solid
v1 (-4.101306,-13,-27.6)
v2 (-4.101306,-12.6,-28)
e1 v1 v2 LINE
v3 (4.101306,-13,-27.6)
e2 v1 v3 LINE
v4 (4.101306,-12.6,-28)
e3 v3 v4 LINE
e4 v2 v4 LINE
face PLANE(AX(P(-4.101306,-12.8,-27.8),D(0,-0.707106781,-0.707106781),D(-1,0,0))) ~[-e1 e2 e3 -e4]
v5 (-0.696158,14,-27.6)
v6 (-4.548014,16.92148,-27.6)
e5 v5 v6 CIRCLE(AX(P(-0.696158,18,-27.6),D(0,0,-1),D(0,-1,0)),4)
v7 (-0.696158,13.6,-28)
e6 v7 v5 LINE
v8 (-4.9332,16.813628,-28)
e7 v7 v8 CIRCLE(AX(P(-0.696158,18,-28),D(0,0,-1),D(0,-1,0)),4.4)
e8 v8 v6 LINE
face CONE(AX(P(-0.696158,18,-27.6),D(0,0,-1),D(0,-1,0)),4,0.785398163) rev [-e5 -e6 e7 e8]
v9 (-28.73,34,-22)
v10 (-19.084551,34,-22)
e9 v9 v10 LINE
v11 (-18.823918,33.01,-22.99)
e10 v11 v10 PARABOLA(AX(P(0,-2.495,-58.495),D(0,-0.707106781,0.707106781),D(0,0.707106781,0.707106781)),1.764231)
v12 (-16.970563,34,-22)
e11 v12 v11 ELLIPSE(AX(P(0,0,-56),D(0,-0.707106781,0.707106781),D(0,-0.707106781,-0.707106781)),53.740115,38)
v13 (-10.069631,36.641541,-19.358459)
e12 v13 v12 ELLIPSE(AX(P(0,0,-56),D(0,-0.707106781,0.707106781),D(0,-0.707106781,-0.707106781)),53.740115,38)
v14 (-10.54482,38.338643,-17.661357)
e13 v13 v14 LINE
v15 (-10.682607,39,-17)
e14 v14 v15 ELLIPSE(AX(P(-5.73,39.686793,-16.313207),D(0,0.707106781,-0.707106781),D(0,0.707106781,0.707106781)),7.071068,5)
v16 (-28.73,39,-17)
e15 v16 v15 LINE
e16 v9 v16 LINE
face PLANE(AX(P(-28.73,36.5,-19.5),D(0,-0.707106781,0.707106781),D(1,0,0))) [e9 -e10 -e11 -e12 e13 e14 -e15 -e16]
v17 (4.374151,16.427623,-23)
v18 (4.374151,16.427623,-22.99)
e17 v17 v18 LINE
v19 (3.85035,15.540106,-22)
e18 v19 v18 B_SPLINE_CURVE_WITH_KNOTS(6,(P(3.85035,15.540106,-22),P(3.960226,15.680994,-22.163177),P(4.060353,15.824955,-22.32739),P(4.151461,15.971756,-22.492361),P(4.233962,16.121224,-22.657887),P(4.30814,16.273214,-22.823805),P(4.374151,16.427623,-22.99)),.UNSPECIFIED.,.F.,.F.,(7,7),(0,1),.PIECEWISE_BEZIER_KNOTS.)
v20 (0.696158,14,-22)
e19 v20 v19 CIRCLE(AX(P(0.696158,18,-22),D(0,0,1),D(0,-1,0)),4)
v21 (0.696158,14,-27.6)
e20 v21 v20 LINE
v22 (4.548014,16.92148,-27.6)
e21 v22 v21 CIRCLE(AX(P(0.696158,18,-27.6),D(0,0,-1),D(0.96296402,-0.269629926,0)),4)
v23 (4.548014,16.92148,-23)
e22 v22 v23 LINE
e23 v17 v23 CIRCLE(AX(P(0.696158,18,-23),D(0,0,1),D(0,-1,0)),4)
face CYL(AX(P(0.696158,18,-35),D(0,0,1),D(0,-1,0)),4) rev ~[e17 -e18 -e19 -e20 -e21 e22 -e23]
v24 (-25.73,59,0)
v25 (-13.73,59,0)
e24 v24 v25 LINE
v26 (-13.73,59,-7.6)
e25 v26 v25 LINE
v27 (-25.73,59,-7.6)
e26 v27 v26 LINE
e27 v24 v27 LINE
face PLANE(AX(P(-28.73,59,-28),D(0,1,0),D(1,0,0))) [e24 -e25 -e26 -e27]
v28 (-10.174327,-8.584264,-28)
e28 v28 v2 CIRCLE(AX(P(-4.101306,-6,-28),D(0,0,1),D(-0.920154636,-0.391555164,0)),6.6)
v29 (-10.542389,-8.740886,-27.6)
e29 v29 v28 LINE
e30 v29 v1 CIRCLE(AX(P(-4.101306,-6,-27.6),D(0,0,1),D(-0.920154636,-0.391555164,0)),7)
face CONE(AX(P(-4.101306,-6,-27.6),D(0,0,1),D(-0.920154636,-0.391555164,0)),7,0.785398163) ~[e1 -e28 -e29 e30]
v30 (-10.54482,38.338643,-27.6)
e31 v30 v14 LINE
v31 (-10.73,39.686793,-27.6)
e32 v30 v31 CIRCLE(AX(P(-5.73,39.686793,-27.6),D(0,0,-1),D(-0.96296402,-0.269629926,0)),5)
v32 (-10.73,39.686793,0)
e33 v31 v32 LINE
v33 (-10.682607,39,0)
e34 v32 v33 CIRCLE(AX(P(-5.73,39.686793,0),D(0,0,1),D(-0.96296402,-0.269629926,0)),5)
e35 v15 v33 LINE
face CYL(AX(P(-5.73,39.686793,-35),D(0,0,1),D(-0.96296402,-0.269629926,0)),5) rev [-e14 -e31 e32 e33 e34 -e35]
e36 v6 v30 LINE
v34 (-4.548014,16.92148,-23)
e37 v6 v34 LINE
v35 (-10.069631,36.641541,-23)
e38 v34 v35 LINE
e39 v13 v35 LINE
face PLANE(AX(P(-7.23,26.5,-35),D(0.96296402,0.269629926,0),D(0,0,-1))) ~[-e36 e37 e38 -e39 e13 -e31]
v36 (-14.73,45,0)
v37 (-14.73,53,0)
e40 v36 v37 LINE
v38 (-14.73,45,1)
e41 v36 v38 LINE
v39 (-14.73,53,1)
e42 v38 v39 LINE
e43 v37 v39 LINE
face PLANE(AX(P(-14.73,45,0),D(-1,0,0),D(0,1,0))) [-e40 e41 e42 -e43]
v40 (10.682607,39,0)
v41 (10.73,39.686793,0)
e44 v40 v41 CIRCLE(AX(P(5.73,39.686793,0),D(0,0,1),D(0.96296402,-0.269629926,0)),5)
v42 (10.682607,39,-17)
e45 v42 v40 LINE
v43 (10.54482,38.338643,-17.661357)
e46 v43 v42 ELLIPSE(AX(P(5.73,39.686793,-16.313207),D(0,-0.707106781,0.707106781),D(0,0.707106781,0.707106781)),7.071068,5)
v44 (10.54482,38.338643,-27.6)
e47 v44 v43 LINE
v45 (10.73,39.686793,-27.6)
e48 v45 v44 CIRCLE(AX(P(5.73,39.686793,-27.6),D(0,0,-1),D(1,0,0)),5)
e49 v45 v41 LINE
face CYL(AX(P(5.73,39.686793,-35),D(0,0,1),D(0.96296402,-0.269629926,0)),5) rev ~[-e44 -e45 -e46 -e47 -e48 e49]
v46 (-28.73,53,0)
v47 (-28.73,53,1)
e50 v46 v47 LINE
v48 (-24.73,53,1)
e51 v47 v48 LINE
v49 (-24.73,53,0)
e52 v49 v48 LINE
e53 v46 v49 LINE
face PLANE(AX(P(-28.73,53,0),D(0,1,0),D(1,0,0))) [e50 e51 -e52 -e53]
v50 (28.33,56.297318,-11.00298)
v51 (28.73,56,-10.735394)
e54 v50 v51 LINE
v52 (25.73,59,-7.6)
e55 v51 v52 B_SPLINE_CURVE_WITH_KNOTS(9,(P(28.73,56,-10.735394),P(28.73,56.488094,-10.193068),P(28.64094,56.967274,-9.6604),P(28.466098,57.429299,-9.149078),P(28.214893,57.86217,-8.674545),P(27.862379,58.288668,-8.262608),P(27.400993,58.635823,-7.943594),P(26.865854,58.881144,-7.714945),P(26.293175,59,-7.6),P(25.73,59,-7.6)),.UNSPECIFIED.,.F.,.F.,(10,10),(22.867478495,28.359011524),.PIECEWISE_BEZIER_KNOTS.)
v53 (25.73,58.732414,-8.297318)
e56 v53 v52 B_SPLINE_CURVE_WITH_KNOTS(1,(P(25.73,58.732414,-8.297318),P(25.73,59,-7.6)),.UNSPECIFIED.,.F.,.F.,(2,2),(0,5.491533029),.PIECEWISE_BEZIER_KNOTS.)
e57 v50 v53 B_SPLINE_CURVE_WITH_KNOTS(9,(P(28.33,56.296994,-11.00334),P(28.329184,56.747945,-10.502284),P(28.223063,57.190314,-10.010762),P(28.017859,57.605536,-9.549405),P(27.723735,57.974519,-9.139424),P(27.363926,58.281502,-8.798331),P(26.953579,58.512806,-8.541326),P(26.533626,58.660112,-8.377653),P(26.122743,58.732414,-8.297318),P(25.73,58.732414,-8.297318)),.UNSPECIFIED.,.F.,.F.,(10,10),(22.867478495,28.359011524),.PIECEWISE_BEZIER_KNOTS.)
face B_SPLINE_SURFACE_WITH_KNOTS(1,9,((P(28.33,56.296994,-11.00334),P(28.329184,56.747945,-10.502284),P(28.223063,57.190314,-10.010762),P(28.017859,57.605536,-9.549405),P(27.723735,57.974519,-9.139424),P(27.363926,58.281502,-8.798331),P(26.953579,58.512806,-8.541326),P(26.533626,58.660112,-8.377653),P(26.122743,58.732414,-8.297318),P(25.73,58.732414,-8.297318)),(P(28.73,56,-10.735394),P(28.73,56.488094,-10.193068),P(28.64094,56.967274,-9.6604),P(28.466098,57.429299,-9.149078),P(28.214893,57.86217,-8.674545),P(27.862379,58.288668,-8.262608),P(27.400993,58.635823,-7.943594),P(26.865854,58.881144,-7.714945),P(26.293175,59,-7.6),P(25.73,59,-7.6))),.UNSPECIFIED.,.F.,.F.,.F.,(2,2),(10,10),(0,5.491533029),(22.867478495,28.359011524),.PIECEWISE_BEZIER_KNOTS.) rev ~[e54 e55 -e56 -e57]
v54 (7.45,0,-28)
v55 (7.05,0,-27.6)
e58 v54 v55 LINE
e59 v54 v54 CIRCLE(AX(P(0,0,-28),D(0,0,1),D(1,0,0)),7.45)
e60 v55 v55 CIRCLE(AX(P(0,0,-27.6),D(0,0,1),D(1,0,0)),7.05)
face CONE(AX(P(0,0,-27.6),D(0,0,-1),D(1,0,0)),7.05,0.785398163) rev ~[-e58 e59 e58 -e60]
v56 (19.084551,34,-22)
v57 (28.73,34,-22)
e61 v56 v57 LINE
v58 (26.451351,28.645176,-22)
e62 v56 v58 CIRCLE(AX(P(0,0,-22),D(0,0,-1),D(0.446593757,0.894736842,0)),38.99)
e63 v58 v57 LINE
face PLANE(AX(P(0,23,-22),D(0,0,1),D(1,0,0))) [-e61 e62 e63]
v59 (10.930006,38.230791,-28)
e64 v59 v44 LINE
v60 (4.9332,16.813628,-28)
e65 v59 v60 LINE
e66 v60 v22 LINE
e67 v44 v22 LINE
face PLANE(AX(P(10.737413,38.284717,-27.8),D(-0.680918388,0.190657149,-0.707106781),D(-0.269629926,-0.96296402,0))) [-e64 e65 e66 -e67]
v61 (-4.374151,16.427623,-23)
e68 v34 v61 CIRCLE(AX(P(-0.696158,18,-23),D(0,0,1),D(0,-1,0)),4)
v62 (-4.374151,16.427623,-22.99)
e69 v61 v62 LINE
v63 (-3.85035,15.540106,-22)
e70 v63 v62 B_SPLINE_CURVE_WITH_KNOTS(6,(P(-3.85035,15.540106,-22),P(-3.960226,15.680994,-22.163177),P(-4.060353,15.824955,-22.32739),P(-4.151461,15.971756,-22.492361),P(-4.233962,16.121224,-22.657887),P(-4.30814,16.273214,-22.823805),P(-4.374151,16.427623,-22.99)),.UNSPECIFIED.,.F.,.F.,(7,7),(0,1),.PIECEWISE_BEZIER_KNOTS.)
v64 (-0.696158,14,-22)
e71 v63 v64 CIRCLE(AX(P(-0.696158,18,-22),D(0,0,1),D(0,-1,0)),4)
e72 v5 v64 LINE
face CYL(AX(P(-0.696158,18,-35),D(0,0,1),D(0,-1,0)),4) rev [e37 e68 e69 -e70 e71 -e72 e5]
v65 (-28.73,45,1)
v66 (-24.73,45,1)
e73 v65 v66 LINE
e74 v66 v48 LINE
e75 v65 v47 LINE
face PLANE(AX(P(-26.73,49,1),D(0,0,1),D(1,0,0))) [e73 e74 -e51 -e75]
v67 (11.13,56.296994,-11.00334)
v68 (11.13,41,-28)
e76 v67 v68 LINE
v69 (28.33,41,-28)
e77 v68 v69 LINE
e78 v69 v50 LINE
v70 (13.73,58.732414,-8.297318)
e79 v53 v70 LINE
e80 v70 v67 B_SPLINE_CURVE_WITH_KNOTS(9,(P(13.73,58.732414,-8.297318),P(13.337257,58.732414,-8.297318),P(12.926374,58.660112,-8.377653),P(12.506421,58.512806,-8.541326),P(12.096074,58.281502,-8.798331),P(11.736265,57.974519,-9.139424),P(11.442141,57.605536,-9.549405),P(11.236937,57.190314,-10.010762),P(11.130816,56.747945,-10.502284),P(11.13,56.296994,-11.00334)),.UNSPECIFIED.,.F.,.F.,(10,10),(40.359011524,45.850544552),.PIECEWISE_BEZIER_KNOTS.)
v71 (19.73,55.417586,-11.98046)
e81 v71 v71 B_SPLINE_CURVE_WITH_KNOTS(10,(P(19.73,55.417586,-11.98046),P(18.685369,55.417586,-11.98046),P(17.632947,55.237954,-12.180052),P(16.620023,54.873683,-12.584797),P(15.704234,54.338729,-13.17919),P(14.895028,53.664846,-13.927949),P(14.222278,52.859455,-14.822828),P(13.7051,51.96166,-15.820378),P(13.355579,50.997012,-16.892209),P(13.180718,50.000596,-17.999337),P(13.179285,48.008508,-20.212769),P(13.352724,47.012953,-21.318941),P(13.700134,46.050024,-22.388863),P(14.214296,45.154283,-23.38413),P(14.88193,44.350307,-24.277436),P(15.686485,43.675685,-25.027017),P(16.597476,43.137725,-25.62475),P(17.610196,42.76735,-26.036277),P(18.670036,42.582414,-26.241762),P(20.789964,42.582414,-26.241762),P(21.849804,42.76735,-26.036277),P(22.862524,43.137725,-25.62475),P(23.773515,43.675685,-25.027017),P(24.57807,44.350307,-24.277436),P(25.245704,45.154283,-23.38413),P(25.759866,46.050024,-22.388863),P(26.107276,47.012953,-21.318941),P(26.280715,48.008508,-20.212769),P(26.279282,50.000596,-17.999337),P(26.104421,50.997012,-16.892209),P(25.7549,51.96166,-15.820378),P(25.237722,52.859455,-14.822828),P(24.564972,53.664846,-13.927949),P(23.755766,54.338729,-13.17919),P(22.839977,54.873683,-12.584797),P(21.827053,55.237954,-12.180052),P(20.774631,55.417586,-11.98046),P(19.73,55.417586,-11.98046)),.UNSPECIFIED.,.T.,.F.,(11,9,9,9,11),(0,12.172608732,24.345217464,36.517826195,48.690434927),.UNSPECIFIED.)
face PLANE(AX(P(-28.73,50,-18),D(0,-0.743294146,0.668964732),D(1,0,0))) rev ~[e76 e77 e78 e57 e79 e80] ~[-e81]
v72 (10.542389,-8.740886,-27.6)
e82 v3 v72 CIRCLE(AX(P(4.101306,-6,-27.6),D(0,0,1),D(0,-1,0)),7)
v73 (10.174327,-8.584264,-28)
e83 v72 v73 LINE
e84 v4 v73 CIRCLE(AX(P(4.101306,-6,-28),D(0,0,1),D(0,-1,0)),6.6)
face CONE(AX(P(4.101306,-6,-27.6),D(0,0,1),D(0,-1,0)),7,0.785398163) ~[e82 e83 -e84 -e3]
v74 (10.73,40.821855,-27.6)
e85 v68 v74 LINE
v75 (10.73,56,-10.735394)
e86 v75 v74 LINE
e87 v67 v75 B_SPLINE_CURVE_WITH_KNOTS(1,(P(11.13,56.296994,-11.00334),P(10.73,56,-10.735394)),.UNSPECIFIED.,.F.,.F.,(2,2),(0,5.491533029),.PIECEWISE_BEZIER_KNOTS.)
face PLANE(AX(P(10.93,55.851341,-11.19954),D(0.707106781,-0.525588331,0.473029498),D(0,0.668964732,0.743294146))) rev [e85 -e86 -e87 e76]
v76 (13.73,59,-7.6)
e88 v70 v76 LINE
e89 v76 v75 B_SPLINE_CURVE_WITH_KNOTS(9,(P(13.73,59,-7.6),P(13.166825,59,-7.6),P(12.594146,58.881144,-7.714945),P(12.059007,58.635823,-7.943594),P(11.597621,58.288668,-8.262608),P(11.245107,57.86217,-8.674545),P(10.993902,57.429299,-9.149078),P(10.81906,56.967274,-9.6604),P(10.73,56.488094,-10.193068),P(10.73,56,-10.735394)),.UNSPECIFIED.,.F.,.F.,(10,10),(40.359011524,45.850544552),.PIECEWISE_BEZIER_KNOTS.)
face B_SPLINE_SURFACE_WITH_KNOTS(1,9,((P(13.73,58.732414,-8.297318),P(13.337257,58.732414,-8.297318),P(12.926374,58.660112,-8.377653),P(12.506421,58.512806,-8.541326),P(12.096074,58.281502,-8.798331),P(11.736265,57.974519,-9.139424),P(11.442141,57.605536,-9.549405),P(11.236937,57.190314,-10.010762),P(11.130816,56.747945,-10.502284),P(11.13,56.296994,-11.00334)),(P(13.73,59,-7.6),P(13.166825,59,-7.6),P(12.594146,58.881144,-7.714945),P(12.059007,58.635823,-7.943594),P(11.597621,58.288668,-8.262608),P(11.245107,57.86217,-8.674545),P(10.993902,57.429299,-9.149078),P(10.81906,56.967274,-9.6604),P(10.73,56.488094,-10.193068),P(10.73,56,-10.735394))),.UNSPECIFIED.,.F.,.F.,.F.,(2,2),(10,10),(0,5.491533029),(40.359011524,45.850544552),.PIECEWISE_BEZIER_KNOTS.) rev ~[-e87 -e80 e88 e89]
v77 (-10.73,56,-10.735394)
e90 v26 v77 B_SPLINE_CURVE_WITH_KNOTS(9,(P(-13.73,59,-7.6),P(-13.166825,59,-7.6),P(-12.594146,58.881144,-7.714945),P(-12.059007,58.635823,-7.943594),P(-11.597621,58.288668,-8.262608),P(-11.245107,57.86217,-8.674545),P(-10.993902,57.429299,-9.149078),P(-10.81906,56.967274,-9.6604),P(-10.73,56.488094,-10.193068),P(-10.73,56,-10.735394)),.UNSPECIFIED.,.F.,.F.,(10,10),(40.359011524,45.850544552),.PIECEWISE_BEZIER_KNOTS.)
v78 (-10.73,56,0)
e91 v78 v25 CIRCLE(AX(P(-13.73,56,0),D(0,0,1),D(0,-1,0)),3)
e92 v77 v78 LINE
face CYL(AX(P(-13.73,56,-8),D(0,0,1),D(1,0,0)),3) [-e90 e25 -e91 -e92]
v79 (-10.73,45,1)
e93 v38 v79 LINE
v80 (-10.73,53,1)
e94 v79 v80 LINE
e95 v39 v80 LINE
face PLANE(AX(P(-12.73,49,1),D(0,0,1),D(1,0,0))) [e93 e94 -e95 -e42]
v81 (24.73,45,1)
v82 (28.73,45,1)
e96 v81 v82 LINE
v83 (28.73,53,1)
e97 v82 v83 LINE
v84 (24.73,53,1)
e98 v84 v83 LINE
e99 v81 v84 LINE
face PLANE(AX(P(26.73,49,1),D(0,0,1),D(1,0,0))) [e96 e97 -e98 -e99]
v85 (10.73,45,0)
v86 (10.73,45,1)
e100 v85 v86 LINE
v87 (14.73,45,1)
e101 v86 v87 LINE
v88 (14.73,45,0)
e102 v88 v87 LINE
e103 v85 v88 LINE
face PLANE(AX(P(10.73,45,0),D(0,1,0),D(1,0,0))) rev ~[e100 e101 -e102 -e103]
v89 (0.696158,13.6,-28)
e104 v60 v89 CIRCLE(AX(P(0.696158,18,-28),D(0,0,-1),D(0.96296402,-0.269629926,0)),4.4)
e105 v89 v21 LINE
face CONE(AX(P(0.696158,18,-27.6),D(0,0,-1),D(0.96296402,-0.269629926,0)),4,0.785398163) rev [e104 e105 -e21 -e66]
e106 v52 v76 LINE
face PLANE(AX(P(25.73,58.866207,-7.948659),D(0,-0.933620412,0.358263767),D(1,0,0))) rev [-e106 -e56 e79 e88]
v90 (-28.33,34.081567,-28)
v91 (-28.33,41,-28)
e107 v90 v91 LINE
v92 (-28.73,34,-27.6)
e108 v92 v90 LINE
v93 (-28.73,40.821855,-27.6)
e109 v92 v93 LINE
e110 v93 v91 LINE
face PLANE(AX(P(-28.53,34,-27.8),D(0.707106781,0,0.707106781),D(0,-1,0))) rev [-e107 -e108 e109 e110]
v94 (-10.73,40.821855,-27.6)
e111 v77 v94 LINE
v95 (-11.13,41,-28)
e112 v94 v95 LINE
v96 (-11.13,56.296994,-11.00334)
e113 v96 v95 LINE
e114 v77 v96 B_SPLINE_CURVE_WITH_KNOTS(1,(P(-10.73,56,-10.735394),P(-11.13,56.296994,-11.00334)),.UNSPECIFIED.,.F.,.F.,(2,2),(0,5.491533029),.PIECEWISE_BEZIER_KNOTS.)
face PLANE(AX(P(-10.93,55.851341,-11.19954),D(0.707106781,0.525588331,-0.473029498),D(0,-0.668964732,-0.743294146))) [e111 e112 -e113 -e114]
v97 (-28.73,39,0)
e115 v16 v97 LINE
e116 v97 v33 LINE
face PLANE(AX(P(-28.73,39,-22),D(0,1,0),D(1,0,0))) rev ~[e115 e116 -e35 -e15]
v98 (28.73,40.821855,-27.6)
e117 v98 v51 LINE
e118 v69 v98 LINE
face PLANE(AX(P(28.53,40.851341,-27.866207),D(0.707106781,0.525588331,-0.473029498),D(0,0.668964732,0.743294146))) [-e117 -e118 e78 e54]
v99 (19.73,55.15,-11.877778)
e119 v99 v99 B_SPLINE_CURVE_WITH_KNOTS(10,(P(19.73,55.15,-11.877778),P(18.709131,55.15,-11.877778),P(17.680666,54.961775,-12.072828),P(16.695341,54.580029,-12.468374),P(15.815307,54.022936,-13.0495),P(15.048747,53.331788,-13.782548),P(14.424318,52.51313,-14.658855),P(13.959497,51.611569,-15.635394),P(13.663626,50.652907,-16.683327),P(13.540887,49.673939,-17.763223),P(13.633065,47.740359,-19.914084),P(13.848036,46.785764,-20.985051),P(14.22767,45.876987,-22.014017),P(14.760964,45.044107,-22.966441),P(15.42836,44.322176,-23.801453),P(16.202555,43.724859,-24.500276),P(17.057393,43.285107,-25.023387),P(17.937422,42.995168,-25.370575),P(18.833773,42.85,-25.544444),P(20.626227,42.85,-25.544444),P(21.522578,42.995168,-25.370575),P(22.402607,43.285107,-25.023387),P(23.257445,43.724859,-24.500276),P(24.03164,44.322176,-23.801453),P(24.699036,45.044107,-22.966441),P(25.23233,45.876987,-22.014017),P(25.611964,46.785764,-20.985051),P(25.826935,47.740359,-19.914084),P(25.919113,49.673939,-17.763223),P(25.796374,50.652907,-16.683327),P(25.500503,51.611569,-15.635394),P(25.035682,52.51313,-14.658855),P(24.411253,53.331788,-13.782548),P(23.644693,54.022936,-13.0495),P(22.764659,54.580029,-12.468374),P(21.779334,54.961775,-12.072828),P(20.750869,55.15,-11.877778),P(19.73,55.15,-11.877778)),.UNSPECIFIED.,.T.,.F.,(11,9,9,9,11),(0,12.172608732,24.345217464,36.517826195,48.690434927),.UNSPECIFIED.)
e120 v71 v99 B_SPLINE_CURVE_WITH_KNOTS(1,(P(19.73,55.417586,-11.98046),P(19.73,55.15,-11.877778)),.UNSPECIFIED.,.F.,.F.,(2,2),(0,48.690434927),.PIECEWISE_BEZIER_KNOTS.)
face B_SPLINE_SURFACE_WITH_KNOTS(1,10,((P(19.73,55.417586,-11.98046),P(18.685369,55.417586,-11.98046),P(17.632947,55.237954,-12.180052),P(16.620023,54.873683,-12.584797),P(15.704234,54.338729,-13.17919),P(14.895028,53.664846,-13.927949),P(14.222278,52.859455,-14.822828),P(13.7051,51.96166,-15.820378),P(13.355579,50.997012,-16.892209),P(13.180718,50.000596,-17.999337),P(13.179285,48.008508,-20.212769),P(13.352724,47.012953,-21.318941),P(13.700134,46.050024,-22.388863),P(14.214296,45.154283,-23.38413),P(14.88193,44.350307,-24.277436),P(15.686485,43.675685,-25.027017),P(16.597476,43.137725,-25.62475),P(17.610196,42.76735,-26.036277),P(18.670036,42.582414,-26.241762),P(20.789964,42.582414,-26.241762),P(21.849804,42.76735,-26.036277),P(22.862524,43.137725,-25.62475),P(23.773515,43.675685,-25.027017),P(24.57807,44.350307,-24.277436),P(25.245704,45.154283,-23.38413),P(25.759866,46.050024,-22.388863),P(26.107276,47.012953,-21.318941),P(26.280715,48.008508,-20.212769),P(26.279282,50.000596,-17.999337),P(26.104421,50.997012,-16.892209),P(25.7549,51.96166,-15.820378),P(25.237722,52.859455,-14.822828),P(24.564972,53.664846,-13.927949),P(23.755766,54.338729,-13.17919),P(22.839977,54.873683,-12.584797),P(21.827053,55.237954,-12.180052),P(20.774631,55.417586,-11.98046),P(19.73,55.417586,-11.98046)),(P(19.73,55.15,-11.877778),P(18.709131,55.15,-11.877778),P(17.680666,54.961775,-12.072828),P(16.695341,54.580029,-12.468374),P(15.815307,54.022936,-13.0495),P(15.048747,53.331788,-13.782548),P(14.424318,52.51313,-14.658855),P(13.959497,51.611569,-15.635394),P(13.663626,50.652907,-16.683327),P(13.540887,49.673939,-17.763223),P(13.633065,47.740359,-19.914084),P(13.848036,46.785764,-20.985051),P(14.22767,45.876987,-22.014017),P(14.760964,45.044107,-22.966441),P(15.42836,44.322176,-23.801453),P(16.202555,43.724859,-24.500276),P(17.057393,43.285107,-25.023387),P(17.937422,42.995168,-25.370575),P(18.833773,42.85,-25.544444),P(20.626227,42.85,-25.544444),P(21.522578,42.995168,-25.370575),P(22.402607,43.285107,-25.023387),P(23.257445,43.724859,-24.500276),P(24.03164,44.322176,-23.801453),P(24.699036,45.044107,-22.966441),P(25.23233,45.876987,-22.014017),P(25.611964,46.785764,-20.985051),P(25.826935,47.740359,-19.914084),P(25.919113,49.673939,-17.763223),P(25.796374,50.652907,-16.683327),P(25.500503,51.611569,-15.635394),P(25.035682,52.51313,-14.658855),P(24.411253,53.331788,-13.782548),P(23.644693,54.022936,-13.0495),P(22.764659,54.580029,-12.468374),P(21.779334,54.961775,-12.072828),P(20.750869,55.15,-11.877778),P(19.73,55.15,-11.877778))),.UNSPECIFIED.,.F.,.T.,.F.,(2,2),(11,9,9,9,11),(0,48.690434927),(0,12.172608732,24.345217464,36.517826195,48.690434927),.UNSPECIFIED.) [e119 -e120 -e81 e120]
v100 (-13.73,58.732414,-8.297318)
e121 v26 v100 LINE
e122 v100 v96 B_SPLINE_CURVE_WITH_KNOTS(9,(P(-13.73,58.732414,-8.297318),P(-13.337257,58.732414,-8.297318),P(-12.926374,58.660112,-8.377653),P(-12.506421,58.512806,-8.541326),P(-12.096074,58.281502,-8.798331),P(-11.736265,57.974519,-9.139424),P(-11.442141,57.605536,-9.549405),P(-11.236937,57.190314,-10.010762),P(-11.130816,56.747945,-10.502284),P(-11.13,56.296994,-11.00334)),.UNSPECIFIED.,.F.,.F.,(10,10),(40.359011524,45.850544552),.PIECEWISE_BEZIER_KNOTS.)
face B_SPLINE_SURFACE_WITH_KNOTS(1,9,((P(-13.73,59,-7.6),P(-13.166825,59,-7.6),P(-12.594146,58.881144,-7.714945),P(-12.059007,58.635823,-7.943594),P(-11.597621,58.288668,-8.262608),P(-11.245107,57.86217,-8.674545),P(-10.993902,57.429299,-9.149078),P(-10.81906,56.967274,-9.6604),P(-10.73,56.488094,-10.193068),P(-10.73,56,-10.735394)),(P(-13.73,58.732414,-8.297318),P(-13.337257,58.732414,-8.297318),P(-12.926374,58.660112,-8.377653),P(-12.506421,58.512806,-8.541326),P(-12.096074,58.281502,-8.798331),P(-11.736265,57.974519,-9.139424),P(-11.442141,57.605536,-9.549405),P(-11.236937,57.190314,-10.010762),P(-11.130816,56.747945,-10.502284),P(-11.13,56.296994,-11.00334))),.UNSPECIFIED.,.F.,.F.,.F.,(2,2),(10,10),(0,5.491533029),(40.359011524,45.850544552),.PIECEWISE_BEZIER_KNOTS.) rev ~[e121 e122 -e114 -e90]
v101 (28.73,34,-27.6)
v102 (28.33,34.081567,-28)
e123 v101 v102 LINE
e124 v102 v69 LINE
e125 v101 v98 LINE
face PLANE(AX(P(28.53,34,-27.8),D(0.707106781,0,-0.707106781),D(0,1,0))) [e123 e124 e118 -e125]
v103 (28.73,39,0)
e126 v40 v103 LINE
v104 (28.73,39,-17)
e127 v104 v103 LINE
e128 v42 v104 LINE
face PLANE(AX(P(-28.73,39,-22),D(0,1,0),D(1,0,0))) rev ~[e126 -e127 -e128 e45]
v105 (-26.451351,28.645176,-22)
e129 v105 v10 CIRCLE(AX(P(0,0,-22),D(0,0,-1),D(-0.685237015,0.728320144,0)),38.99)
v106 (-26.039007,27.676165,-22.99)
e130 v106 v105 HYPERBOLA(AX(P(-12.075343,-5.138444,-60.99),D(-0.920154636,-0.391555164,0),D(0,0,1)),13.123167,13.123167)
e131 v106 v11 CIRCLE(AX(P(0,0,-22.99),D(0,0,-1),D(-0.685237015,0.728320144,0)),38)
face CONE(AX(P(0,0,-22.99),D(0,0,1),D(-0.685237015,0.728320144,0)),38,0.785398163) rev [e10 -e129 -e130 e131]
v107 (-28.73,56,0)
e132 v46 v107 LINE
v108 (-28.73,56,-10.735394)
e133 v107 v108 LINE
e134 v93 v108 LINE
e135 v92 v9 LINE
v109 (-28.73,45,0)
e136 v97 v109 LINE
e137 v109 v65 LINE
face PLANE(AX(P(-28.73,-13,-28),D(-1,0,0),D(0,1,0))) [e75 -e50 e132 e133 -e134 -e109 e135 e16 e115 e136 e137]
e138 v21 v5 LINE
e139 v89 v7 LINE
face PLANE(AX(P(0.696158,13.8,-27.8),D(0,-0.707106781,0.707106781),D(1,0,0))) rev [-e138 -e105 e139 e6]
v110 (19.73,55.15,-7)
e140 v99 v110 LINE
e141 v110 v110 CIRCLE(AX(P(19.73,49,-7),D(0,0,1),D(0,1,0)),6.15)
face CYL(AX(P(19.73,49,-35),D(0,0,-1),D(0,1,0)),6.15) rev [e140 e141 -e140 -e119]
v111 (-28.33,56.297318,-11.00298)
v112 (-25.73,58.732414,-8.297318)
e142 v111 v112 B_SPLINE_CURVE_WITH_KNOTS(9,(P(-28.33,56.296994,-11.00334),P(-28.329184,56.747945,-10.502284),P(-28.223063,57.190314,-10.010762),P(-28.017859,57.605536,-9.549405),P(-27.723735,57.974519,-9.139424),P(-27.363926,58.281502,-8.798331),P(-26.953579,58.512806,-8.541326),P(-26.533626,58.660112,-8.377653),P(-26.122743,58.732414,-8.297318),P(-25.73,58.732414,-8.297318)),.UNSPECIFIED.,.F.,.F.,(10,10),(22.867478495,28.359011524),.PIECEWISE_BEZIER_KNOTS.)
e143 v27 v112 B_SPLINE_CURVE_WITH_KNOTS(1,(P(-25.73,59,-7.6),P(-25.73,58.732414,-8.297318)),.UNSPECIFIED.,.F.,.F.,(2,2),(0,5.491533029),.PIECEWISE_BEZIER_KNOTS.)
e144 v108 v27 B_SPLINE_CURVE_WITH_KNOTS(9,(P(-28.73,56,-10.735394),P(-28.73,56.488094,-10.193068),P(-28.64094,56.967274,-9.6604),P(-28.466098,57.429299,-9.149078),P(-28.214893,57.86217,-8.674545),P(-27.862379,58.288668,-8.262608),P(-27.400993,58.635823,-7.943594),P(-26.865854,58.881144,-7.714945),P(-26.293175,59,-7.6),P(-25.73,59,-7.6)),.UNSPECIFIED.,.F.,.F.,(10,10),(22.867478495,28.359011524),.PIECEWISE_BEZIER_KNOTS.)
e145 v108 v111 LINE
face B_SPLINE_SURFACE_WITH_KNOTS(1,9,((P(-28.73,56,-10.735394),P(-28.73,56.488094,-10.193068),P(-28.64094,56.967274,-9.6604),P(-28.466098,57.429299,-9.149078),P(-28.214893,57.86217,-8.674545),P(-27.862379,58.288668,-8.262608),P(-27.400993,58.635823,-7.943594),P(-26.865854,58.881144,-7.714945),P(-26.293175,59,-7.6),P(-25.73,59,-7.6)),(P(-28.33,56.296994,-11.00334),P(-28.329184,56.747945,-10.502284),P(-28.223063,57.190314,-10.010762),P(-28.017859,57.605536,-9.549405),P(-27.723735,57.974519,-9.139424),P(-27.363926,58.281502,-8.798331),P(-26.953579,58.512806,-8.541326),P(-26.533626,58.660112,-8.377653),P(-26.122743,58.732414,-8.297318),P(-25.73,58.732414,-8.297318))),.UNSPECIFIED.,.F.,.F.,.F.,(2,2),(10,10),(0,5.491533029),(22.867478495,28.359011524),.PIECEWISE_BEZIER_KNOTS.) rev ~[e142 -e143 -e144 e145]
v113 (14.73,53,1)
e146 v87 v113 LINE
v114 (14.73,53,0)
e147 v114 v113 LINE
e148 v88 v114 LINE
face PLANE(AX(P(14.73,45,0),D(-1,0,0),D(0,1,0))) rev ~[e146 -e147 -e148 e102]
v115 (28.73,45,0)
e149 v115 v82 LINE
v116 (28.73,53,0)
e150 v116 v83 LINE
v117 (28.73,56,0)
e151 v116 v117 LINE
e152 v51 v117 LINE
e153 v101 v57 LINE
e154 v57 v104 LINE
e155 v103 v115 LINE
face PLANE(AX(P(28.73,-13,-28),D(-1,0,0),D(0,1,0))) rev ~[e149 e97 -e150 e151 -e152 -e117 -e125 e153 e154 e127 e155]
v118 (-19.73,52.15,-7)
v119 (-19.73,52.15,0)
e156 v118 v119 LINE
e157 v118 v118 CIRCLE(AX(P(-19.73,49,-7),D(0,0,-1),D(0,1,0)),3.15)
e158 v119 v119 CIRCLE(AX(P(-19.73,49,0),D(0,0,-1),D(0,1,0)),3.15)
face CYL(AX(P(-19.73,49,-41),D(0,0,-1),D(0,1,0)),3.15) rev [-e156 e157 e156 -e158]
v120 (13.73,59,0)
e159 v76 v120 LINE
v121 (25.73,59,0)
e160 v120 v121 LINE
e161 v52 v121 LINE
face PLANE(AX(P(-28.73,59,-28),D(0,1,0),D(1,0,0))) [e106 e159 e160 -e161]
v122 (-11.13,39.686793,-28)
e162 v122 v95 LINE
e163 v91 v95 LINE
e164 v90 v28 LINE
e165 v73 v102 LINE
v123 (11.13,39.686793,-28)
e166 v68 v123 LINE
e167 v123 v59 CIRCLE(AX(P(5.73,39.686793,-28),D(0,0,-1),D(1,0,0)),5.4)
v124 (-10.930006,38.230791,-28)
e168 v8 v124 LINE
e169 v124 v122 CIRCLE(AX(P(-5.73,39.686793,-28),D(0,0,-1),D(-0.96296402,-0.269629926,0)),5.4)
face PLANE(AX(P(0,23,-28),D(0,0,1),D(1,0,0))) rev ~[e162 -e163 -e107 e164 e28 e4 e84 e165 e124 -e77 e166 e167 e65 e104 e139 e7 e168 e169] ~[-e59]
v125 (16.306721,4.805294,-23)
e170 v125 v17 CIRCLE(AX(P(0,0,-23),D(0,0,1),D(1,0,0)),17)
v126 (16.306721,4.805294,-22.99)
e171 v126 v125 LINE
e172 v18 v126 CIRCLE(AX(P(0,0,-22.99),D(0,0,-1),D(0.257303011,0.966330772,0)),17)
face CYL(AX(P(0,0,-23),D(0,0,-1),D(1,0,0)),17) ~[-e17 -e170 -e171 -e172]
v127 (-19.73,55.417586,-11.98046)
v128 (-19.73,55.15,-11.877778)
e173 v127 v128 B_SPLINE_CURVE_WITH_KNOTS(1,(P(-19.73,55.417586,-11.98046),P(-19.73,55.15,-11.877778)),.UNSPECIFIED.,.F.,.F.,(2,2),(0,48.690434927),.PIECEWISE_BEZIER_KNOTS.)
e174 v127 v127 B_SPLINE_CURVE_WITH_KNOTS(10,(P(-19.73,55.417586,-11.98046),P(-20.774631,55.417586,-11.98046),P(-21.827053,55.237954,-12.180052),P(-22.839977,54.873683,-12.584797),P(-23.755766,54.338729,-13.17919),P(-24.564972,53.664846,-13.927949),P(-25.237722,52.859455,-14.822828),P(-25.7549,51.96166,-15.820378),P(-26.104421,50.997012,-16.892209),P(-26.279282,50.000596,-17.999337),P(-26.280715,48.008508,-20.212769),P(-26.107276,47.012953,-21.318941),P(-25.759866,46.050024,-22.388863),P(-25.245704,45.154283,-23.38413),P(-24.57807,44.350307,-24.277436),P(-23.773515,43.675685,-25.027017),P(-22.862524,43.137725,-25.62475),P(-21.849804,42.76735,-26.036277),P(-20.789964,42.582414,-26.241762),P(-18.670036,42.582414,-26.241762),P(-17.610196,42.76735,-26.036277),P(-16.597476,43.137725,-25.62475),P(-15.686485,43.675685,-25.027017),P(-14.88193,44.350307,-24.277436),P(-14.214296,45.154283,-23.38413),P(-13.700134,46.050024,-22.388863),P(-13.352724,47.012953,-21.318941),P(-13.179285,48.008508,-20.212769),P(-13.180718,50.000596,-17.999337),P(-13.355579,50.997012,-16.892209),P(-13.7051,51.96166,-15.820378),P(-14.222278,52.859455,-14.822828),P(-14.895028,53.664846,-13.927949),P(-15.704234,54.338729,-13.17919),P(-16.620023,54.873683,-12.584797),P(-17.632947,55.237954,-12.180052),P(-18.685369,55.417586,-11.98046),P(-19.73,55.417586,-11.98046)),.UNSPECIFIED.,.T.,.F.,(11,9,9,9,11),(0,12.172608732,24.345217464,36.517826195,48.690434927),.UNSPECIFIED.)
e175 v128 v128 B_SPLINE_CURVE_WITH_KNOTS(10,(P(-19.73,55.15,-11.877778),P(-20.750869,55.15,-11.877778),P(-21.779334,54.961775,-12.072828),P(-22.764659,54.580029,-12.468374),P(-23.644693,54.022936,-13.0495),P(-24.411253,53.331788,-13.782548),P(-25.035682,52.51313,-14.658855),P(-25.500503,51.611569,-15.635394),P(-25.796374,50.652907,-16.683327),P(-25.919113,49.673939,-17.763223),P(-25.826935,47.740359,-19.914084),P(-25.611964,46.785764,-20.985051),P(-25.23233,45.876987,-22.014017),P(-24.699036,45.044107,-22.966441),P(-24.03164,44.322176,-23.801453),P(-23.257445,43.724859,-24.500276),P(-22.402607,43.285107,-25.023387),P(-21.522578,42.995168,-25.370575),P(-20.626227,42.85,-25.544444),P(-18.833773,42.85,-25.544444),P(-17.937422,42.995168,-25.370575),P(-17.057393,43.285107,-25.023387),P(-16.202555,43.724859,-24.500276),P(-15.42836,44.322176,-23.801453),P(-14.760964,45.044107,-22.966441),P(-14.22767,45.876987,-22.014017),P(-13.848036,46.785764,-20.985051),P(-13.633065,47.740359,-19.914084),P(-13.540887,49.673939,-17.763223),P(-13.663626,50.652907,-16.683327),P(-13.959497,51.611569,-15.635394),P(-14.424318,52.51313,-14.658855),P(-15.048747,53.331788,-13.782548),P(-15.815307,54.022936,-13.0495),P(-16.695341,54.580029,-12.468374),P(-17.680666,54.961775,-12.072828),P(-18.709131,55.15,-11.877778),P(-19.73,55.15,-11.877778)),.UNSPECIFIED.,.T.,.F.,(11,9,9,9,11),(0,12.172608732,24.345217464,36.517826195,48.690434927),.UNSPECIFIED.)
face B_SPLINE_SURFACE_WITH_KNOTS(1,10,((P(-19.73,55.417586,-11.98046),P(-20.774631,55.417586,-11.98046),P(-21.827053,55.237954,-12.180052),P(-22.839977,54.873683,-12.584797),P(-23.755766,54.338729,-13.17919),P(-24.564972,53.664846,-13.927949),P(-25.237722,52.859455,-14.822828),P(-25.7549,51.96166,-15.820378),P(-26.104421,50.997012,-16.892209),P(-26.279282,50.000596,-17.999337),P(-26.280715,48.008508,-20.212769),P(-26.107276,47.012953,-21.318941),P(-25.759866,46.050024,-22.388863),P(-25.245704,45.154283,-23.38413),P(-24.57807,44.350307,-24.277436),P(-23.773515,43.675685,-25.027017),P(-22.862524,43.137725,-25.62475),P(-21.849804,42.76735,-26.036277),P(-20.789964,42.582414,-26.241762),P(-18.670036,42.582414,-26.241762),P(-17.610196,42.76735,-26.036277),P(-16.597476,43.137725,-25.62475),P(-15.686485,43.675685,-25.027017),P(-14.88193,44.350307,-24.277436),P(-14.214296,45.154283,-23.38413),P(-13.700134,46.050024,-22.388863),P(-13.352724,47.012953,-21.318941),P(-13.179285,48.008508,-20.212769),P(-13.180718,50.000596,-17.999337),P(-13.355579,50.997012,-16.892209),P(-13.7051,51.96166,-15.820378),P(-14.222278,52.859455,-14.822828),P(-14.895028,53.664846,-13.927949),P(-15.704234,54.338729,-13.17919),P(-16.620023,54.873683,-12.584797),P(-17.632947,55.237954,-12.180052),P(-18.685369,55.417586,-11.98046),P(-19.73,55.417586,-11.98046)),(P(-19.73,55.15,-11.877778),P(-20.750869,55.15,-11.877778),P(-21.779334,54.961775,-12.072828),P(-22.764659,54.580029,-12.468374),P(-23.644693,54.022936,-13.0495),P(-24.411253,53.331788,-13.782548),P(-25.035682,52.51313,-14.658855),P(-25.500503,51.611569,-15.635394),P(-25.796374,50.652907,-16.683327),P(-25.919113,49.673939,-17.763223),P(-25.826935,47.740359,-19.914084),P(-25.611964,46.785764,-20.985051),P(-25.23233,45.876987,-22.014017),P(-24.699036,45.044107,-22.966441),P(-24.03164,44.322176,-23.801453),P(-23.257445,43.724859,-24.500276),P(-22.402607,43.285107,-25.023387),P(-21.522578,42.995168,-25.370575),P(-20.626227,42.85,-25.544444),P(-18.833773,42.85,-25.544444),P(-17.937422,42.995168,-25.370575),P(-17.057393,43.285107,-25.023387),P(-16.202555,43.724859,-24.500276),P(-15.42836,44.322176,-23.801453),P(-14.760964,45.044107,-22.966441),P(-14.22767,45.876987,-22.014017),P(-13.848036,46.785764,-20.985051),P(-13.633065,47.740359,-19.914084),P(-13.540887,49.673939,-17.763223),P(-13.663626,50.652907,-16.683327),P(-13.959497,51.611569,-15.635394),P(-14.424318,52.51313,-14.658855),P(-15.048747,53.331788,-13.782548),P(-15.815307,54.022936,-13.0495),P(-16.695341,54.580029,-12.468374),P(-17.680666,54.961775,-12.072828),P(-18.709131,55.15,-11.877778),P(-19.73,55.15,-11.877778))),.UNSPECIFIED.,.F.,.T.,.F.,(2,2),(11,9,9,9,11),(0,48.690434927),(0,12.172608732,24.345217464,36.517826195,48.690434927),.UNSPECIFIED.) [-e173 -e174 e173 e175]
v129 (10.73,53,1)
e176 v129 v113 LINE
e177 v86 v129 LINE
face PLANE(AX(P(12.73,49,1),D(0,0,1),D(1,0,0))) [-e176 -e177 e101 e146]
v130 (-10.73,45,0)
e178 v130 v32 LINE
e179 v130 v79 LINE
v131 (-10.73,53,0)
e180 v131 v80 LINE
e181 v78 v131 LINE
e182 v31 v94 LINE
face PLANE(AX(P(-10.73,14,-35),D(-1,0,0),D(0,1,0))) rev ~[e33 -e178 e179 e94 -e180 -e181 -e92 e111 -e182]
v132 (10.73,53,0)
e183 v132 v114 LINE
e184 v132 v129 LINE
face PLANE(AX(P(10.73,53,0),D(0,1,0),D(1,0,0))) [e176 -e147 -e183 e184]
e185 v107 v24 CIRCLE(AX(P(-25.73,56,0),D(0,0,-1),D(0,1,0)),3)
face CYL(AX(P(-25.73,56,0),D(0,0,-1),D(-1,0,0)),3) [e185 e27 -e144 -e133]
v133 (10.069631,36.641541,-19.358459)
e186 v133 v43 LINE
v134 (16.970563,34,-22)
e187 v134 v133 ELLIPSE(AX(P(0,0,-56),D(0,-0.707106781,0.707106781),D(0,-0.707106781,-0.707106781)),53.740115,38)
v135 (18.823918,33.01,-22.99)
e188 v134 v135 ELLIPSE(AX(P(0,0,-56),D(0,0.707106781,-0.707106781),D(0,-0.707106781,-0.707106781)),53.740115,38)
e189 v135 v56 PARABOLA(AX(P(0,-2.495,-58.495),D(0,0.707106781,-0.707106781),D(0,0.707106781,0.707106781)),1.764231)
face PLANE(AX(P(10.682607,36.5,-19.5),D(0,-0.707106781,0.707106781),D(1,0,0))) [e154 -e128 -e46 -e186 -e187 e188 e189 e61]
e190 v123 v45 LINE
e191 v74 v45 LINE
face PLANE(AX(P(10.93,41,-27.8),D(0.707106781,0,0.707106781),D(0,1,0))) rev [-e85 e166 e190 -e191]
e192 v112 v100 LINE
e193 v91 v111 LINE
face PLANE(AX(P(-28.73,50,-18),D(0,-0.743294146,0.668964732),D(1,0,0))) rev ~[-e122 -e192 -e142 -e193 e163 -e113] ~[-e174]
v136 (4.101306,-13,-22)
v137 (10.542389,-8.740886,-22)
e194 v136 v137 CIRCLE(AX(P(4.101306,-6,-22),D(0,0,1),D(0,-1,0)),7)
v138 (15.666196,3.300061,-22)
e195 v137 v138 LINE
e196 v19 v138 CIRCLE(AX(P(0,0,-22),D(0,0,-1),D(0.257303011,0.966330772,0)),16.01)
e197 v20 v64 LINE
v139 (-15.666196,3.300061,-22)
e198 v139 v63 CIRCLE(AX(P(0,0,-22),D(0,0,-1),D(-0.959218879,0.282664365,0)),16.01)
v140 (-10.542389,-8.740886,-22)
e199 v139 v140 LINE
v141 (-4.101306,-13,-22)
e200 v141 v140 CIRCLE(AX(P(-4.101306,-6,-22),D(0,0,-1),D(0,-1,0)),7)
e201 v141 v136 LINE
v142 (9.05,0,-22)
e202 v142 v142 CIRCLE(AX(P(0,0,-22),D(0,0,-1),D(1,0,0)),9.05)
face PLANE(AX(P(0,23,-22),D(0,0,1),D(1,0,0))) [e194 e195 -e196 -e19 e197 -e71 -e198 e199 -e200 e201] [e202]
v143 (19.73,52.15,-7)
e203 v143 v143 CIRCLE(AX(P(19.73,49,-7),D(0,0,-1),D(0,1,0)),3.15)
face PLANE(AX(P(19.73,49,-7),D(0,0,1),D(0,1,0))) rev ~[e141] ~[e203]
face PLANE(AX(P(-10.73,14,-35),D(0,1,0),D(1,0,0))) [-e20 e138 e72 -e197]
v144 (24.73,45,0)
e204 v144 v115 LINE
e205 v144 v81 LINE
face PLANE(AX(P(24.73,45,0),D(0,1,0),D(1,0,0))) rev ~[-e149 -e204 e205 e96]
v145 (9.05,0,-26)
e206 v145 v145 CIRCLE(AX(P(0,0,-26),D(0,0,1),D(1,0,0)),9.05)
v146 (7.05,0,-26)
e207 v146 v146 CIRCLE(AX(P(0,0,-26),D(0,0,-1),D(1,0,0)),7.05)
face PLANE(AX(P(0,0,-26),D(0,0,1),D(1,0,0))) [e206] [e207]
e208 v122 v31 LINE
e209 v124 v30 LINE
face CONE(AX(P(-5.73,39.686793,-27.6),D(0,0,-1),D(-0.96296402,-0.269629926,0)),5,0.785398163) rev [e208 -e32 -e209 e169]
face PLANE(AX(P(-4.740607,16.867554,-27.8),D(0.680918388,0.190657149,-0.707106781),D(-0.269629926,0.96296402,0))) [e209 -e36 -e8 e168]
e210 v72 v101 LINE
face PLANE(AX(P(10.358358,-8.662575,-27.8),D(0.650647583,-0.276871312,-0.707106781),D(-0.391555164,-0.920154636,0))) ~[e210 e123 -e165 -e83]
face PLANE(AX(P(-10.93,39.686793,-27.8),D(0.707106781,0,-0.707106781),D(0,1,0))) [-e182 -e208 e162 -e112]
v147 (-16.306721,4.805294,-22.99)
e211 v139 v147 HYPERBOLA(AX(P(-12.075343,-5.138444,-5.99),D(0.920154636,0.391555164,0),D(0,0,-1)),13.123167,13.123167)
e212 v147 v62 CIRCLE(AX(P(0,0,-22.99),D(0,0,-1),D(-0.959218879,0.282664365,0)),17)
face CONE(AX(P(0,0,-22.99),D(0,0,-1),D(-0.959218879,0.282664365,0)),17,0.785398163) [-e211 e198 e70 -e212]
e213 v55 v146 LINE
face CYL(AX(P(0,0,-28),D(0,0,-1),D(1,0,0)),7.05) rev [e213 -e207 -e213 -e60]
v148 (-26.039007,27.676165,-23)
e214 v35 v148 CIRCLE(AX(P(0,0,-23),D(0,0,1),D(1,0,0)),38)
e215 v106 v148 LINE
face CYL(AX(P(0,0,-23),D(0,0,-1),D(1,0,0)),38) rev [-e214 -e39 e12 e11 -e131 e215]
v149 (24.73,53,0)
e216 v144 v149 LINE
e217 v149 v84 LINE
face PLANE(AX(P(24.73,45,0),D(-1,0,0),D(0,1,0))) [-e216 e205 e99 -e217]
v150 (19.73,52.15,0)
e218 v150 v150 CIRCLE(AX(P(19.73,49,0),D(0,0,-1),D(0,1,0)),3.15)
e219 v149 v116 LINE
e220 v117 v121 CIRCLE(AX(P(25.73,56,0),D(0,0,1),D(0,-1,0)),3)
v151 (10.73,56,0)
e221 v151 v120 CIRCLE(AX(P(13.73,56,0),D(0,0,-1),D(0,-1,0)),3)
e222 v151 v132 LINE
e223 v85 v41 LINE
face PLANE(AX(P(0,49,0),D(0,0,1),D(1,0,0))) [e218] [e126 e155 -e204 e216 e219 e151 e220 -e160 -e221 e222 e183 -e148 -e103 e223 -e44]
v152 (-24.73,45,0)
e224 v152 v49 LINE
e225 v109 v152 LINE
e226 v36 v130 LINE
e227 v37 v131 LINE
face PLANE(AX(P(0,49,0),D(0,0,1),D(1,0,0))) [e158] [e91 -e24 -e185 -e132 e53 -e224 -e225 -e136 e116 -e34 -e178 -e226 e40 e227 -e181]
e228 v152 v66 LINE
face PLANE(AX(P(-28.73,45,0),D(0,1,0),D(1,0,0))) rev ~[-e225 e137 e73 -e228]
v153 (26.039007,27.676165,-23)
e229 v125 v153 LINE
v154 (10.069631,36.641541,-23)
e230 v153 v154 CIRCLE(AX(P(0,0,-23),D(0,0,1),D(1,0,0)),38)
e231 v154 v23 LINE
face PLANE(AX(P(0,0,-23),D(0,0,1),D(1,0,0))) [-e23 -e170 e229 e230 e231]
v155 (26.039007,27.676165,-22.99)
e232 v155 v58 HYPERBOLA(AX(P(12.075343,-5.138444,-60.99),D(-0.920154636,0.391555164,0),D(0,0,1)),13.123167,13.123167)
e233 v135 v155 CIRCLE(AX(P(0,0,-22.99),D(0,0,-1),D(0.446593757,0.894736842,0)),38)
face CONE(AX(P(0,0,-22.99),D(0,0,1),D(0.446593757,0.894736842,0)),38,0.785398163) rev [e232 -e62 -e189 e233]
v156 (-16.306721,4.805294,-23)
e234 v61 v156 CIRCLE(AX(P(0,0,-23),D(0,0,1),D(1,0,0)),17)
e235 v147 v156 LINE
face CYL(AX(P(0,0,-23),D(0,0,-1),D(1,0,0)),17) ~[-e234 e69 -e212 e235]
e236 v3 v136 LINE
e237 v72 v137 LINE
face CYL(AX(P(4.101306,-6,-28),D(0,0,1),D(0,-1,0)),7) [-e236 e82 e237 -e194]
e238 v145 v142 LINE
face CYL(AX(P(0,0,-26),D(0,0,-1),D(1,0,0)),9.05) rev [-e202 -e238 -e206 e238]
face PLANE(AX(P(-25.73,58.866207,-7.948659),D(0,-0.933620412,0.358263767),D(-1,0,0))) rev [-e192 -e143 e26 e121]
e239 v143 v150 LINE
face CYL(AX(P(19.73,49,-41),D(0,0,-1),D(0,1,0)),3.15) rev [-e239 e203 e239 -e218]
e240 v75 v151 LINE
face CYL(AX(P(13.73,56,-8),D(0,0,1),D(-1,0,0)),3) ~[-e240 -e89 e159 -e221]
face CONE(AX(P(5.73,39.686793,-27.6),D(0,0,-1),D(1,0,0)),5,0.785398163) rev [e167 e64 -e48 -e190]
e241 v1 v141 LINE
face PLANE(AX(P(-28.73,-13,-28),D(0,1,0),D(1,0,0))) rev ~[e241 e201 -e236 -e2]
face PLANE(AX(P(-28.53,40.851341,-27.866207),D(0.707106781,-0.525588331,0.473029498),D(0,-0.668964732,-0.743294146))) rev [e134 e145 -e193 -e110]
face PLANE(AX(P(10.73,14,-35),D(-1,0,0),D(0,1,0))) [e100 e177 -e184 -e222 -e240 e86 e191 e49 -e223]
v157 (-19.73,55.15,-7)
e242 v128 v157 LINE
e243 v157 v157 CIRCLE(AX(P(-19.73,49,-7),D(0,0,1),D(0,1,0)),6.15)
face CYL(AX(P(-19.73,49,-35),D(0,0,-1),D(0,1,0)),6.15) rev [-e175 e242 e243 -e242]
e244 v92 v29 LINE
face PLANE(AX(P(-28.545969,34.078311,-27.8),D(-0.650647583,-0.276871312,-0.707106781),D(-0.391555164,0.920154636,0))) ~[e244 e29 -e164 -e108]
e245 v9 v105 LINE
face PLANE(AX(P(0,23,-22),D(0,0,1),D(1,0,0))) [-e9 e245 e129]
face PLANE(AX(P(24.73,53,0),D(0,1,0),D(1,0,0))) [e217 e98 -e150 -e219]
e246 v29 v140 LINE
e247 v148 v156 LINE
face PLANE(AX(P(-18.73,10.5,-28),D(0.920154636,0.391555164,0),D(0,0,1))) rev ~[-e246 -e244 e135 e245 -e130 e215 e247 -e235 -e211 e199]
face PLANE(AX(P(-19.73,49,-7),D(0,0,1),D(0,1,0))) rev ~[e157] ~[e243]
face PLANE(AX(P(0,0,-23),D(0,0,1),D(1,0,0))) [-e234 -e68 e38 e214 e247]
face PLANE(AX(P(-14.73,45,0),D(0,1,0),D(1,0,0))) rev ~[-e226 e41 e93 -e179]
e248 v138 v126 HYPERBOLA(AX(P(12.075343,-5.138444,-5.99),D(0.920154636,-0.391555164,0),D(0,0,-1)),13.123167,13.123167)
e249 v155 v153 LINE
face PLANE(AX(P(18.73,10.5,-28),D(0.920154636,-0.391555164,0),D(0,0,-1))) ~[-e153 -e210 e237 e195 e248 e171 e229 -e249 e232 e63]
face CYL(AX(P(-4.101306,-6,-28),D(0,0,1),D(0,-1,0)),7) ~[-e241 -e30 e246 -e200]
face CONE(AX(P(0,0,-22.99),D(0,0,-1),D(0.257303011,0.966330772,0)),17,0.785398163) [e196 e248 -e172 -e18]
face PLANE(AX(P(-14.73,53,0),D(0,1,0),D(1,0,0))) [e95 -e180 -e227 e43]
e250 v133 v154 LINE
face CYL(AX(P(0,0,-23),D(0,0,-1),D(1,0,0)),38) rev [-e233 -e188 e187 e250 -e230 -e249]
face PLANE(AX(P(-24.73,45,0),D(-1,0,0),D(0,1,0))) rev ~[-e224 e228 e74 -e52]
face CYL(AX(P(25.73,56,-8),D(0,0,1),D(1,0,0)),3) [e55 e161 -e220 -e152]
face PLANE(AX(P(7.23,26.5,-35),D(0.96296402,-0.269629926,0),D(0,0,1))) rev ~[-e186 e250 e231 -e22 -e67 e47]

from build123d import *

# Parameters (mm, degrees)
CYLINDER037_R                = 17
CYLINDER037_DEPTH            = 10
CYLINDER036_R                = 38
CYLINDER036_DEPTH            = 10
BOX046_W                     = 4
BOX046_H                     = 8
BOX046_DEPTH                 = 1
BOX045_W                     = 4
BOX045_H                     = 8
BOX045_DEPTH                 = 1
BOX043_W                     = 4
BOX043_H                     = 8
BOX043_DEPTH                 = 1
BOX047_W                     = 4
BOX047_H                     = 8
BOX047_DEPTH                 = 1
CYLINDER033_R                = 3.15
CYLINDER033_DEPTH            = 65
CYLINDER034_R                = 3.15
CYLINDER034_DEPTH            = 65
CYLINDER032_R                = 6.15
CYLINDER032_DEPTH            = 28
CYLINDER031_R                = 6.15
CYLINDER031_DEPTH            = 28
BOX044_W                     = 21.46
BOX044_H                     = 55
BOX044_DEPTH                 = 45
CHAMFER003068012002082_SIZE2 = 7
CHAMFER003068012002082_SIZE  = 25
CHAMFER003068012002083_SIZE2 = 25
CHAMFER003068012002083_SIZE  = 7
FILLET003002010_R            = 4
FILLET003002011_R            = 5
CYLINDER_R                   = 9.05
CYLINDER_DEPTH               = 10
CYLINDER030_R                = 7.05
CYLINDER030_DEPTH            = 10
BOX041_W                     = 57.46
BOX041_H                     = 72
BOX041_DEPTH                 = 6
CHAMFER003068012002084_SIZE2 = 20
CHAMFER003068012002084_SIZE  = 47
CHAMFER003068012002085_SIZE2 = 47
CHAMFER003068012002085_SIZE  = 20
FILLET003002012_R            = 7
BOX042_W                     = 57.46
BOX042_H                     = 20
BOX042_DEPTH                 = 22
CHAMFER003068012002086_SIZE2 = 20
CHAMFER003068012002086_SIZE  = 18
CHAMFER003068012002087_SIZE  = 5
FILLET003002013_R            = 3
CHAMFER003068012002088_SIZE  = 0.99
CHAMFER003068012002089_SIZE  = 0.99
CHAMFER003068012002090_SIZE  = 0.4


with BuildPart() as cylinder037:
    # Cylinder037 → Cylinder037 (new body)
    with BuildSketch(Plane.XY.offset(-23)):
        Circle(CYLINDER037_R)
    extrude(amount=CYLINDER037_DEPTH)


with BuildPart() as cut001040:
    # Cylinder036 → Cylinder036 (new body)
    with BuildSketch(Plane.XY.offset(-23)):
        Circle(CYLINDER036_R)
    extrude(amount=CYLINDER036_DEPTH)

    # Cut001040: cut Cylinder037
    add(cylinder037.part, mode=Mode.SUBTRACT)


with BuildPart() as cube046:
    # Box046 → Box046 (new body)
    with BuildSketch(Plane(origin=(10.73, 45, 0), x_dir=(1, 0, 0), z_dir=(0, 0, 1))):
        with Locations((2, 4)):
            Rectangle(BOX046_W, BOX046_H)
    extrude(amount=BOX046_DEPTH)


with BuildPart() as cube045:
    # Box045 → Box045 (new body)
    with BuildSketch(Plane(origin=(-14.73, 45, 0), x_dir=(1, 0, 0), z_dir=(0, 0, 1))):
        with Locations((2, 4)):
            Rectangle(BOX045_W, BOX045_H)
    extrude(amount=BOX045_DEPTH)


with BuildPart() as cube043:
    # Box043 → Box043 (new body)
    with BuildSketch(Plane(origin=(-28.73, 45, 0), x_dir=(1, 0, 0), z_dir=(0, 0, 1))):
        with Locations((2, 4)):
            Rectangle(BOX043_W, BOX043_H)
    extrude(amount=BOX043_DEPTH)


with BuildPart() as fusion001002012032:
    # Box047 → Box047 (new body)
    with BuildSketch(Plane(origin=(24.73, 45, 0), x_dir=(1, 0, 0), z_dir=(0, 0, 1))):
        with Locations((2, 4)):
            Rectangle(BOX047_W, BOX047_H)
    extrude(amount=BOX047_DEPTH)

    # Fusion001002012032: union Cube046, Cube045, Cube043
    add(cube046.part)
    add(cube045.part)
    add(cube043.part)


with BuildPart() as cylinder033:
    # Cylinder033 → Cylinder033 (new body)
    with BuildSketch(Plane(origin=(-19.73, 49, -41), x_dir=(0, 1, 0), z_dir=(0, 0, 1))):
        Circle(CYLINDER033_R)
    extrude(amount=CYLINDER033_DEPTH)


with BuildPart() as fusion001002012030:
    # Cylinder034 → Cylinder034 (new body)
    with BuildSketch(Plane(origin=(19.73, 49, -41), x_dir=(0, 1, 0), z_dir=(0, 0, 1))):
        Circle(CYLINDER034_R)
    extrude(amount=CYLINDER034_DEPTH)

    # Fusion001002012030: union Cylinder033
    add(cylinder033.part)


with BuildPart() as cylinder032:
    # Cylinder032 → Cylinder032 (new body)
    with BuildSketch(Plane(origin=(-19.73, 49, -41), x_dir=(0, 1, 0), z_dir=(0, 0, 1))):
        Circle(CYLINDER032_R)
    extrude(amount=CYLINDER032_DEPTH)


with BuildPart() as fusion001002012031:
    # Cylinder031 → Cylinder031 (new body)
    with BuildSketch(Plane(origin=(19.73, 49, -41), x_dir=(0, 1, 0), z_dir=(0, 0, 1))):
        Circle(CYLINDER031_R)
    extrude(amount=CYLINDER031_DEPTH)

    # Fusion001002012031: union Cylinder032
    add(cylinder032.part)


with BuildPart() as fusion001002012031_1:
    # Fusion001002012031 placement: moved
    add(fusion001002012031.part.moved(Location((0, 0, 6))))


with BuildPart() as fillet003002011:
    # Box044 → Box044 (new body)
    with BuildSketch(Plane(origin=(-10.73, 14, -35), x_dir=(1, 0, 0), z_dir=(0, 0, 1))):
        with Locations((10.73, 27.5)):
            Rectangle(BOX044_W, BOX044_H)
    extrude(amount=BOX044_DEPTH)

    # Chamfer003068012002082
    chamfer003068012002082_edges = [fillet003002011.edges().sort_by_distance(p)[0] for p in [
        (10.73, 14, -12.5),
    ]]
    chamfer003068012002082_side = fillet003002011.faces().sort_by_distance((10.73, 41.5, -12.5))[0]
    chamfer(chamfer003068012002082_edges, length=CHAMFER003068012002082_SIZE, length2=CHAMFER003068012002082_SIZE2, reference=chamfer003068012002082_side)

    # Chamfer003068012002083
    chamfer003068012002083_edges = [fillet003002011.edges().sort_by_distance(p)[0] for p in [
        (-10.73, 14, -12.5),
    ]]
    chamfer003068012002083_side = fillet003002011.faces().sort_by_distance((-3.5, 14, -12.5))[0]
    chamfer(chamfer003068012002083_edges, length=CHAMFER003068012002083_SIZE, length2=CHAMFER003068012002083_SIZE2, reference=chamfer003068012002083_side)

    # Fillet003002010
    fillet003002010_edges = [fillet003002011.edges().sort_by_distance(p)[0] for p in [
        (-3.73, 14, -12.5),
        (3.73, 14, -12.5),
    ]]
    fillet(fillet003002010_edges, radius=FILLET003002010_R)

    # Fillet003002011
    fillet003002011_edges = [fillet003002011.edges().sort_by_distance(p)[0] for p in [
        (-10.73, 39, -12.5),
        (10.73, 39, -12.5),
    ]]
    fillet(fillet003002011_edges, radius=FILLET003002011_R)


with BuildPart() as cylinder:
    # Cylinder → Cylinder (new body)
    with BuildSketch(Plane.XY.offset(-27)):
        Circle(CYLINDER_R)
    extrude(amount=CYLINDER_DEPTH)


with BuildPart() as fusion001002012028:
    # Cylinder030 → Cylinder030 (new body)
    with BuildSketch(Plane.XY.offset(-29)):
        Circle(CYLINDER030_R)
    extrude(amount=CYLINDER030_DEPTH)

    # Fusion001002012028: union Cylinder
    add(cylinder.part)


with BuildPart() as fusion001002012028_1:
    # Fusion001002012028 placement: moved
    add(fusion001002012028.part.moved(Location((0, 0, 1))))


with BuildPart() as fillet003002012:
    # Box041 → Box041 (new body)
    with BuildSketch(Plane(origin=(-28.73, -13, -28), x_dir=(1, 0, 0), z_dir=(0, 0, 1))):
        with Locations((28.73, 36)):
            Rectangle(BOX041_W, BOX041_H)
    extrude(amount=BOX041_DEPTH)

    # Chamfer003068012002084
    chamfer003068012002084_edges = [fillet003002012.edges().sort_by_distance(p)[0] for p in [
        (-28.73, -13, -25),
    ]]
    chamfer003068012002084_side = fillet003002012.faces().sort_by_distance((-28.73, 23, -25))[0]
    chamfer(chamfer003068012002084_edges, length=CHAMFER003068012002084_SIZE, length2=CHAMFER003068012002084_SIZE2, reference=chamfer003068012002084_side)

    # Chamfer003068012002085
    chamfer003068012002085_edges = [fillet003002012.edges().sort_by_distance(p)[0] for p in [
        (28.73, -13, -25),
    ]]
    chamfer003068012002085_side = fillet003002012.faces().sort_by_distance((10, -13, -25))[0]
    chamfer(chamfer003068012002085_edges, length=CHAMFER003068012002085_SIZE, length2=CHAMFER003068012002085_SIZE2, reference=chamfer003068012002085_side)

    # Fillet003002012
    fillet003002012_edges = [fillet003002012.edges().sort_by_distance(p)[0] for p in [
        (-8.73, -13, -25),
        (8.73, -13, -25),
    ]]
    fillet(fillet003002012_edges, radius=FILLET003002012_R)


with BuildPart() as cut001036:
    # Cut001036 base: copy of Fillet003002012
    add(fillet003002012.part)

    # Cut001036: cut Fusion001002012028
    add(fusion001002012028_1.part, mode=Mode.SUBTRACT)


with BuildPart() as cut001035:
    # Cut001035 base: copy of Fillet003002012
    add(fillet003002012.part)

    # Cut001035: cut Fusion001002012028
    add(fusion001002012028_1.part, mode=Mode.SUBTRACT)


with BuildPart() as mounter_front:
    # Box042 → Box042 (new body)
    with BuildSketch(Plane(origin=(-28.73, 39, -22), x_dir=(1, 0, 0), z_dir=(0, 0, 1))):
        with Locations((28.73, 10)):
            Rectangle(BOX042_W, BOX042_H)
    extrude(amount=BOX042_DEPTH)

    # Fusion001002012033: union Cut001035
    add(cut001035.part)

    # Fusion001002012034: union Cut001036
    add(cut001036.part)

    # Chamfer003068012002086
    chamfer003068012002086_edges = [mounter_front.edges().sort_by_distance(p)[0] for p in [
        (0, 59, -28),
    ]]
    chamfer003068012002086_side = mounter_front.faces().sort_by_distance((0, 30.57213, -28))[0]
    chamfer(chamfer003068012002086_edges, length=CHAMFER003068012002086_SIZE, length2=CHAMFER003068012002086_SIZE2, reference=chamfer003068012002086_side)

    # Cut001037: cut Fillet003002011
    add(fillet003002011.part, mode=Mode.SUBTRACT)

    # Chamfer003068012002087
    chamfer003068012002087_edges = [mounter_front.edges().sort_by_distance(p)[0] for p in [
        (-19.706303, 39, -22),
        (19.706303, 39, -22),
    ]]
    chamfer(chamfer003068012002087_edges, length=CHAMFER003068012002087_SIZE)

    # Cut001038: cut Fusion001002012031
    add(fusion001002012031_1.part, mode=Mode.SUBTRACT)

    # Cut001039: cut Fusion001002012030
    add(fusion001002012030.part, mode=Mode.SUBTRACT)

    # Fusion001002012035: union Fusion001002012032
    add(fusion001002012032.part)

    # Fillet003002013
    fillet003002013_edges = [mounter_front.edges().sort_by_distance(p)[0] for p in [
        (-10.73, 59, -4),
        (-28.73, 59, -4),
        (28.73, 59, -4),
        (10.73, 59, -4),
    ]]
    fillet(fillet003002013_edges, radius=FILLET003002013_R)

    # Cut001041: cut Cut001040
    add(cut001040.part, mode=Mode.SUBTRACT)

    # Chamfer003068012002088
    chamfer003068012002088_edges = [mounter_front.edges().sort_by_distance(p)[0] for p in [
        (11.861461, 12.178085, -22),
        (-11.861461, 12.178085, -22),
    ]]
    chamfer(chamfer003068012002088_edges, length=CHAMFER003068012002088_SIZE)

    # Chamfer003068012002089
    chamfer003068012002089_edges = [mounter_front.edges().sort_by_distance(p)[0] for p in [
        (-21.735995, 31.169641, -22),
        (21.735995, 31.169641, -22),
    ]]
    chamfer(chamfer003068012002089_edges, length=CHAMFER003068012002089_SIZE)

    # Chamfer003068012002090
    chamfer003068012002090_edges = [mounter_front.edges().sort_by_distance(p)[0] for p in [
        (-19.636194, 12.629557, -28),
        (-28.73, 48.5, -19.666667),
        (-28.73, 37.5, -28),
        (-7.962252, -11.83893, -28),
        (0, -13, -28),
        (7.962252, -11.83893, -28),
        (19.636194, 12.629557, -28),
        (28.73, 37.5, -28),
        (10.73, 40.343396, -28),
        (10.683489, 39.006389, -28),
        (7.546417, 27.630062, -28),
        (3.11338, 14.812989, -28),
        (0, 14, -28),
        (-3.11338, 14.812989, -28),
        (-7.546417, 27.630062, -28),
        (-10.683489, 39.006389, -28),
        (-10.73, 40.343396, -28),
        (-7.05, 0, -28),
        (-28.042876, 57.910655, -9.210383),
        (-10.73, 48.5, -19.666667),
        (-11.417124, 57.910655, -9.210383),
        (-19.73, 59, -8),
        (-19.723632, 42.850003, -25.944441),
        (28.73, 48.5, -19.666667),
        (10.73, 48.5, -19.666667),
        (28.042876, 57.910655, -9.210383),
        (19.73, 59, -8),
        (11.417124, 57.910655, -9.210383),
        (19.736368, 42.850003, -25.944441),
    ]]
    chamfer(chamfer003068012002090_edges, length=CHAMFER003068012002090_SIZE)


solid = mounter_front.part
